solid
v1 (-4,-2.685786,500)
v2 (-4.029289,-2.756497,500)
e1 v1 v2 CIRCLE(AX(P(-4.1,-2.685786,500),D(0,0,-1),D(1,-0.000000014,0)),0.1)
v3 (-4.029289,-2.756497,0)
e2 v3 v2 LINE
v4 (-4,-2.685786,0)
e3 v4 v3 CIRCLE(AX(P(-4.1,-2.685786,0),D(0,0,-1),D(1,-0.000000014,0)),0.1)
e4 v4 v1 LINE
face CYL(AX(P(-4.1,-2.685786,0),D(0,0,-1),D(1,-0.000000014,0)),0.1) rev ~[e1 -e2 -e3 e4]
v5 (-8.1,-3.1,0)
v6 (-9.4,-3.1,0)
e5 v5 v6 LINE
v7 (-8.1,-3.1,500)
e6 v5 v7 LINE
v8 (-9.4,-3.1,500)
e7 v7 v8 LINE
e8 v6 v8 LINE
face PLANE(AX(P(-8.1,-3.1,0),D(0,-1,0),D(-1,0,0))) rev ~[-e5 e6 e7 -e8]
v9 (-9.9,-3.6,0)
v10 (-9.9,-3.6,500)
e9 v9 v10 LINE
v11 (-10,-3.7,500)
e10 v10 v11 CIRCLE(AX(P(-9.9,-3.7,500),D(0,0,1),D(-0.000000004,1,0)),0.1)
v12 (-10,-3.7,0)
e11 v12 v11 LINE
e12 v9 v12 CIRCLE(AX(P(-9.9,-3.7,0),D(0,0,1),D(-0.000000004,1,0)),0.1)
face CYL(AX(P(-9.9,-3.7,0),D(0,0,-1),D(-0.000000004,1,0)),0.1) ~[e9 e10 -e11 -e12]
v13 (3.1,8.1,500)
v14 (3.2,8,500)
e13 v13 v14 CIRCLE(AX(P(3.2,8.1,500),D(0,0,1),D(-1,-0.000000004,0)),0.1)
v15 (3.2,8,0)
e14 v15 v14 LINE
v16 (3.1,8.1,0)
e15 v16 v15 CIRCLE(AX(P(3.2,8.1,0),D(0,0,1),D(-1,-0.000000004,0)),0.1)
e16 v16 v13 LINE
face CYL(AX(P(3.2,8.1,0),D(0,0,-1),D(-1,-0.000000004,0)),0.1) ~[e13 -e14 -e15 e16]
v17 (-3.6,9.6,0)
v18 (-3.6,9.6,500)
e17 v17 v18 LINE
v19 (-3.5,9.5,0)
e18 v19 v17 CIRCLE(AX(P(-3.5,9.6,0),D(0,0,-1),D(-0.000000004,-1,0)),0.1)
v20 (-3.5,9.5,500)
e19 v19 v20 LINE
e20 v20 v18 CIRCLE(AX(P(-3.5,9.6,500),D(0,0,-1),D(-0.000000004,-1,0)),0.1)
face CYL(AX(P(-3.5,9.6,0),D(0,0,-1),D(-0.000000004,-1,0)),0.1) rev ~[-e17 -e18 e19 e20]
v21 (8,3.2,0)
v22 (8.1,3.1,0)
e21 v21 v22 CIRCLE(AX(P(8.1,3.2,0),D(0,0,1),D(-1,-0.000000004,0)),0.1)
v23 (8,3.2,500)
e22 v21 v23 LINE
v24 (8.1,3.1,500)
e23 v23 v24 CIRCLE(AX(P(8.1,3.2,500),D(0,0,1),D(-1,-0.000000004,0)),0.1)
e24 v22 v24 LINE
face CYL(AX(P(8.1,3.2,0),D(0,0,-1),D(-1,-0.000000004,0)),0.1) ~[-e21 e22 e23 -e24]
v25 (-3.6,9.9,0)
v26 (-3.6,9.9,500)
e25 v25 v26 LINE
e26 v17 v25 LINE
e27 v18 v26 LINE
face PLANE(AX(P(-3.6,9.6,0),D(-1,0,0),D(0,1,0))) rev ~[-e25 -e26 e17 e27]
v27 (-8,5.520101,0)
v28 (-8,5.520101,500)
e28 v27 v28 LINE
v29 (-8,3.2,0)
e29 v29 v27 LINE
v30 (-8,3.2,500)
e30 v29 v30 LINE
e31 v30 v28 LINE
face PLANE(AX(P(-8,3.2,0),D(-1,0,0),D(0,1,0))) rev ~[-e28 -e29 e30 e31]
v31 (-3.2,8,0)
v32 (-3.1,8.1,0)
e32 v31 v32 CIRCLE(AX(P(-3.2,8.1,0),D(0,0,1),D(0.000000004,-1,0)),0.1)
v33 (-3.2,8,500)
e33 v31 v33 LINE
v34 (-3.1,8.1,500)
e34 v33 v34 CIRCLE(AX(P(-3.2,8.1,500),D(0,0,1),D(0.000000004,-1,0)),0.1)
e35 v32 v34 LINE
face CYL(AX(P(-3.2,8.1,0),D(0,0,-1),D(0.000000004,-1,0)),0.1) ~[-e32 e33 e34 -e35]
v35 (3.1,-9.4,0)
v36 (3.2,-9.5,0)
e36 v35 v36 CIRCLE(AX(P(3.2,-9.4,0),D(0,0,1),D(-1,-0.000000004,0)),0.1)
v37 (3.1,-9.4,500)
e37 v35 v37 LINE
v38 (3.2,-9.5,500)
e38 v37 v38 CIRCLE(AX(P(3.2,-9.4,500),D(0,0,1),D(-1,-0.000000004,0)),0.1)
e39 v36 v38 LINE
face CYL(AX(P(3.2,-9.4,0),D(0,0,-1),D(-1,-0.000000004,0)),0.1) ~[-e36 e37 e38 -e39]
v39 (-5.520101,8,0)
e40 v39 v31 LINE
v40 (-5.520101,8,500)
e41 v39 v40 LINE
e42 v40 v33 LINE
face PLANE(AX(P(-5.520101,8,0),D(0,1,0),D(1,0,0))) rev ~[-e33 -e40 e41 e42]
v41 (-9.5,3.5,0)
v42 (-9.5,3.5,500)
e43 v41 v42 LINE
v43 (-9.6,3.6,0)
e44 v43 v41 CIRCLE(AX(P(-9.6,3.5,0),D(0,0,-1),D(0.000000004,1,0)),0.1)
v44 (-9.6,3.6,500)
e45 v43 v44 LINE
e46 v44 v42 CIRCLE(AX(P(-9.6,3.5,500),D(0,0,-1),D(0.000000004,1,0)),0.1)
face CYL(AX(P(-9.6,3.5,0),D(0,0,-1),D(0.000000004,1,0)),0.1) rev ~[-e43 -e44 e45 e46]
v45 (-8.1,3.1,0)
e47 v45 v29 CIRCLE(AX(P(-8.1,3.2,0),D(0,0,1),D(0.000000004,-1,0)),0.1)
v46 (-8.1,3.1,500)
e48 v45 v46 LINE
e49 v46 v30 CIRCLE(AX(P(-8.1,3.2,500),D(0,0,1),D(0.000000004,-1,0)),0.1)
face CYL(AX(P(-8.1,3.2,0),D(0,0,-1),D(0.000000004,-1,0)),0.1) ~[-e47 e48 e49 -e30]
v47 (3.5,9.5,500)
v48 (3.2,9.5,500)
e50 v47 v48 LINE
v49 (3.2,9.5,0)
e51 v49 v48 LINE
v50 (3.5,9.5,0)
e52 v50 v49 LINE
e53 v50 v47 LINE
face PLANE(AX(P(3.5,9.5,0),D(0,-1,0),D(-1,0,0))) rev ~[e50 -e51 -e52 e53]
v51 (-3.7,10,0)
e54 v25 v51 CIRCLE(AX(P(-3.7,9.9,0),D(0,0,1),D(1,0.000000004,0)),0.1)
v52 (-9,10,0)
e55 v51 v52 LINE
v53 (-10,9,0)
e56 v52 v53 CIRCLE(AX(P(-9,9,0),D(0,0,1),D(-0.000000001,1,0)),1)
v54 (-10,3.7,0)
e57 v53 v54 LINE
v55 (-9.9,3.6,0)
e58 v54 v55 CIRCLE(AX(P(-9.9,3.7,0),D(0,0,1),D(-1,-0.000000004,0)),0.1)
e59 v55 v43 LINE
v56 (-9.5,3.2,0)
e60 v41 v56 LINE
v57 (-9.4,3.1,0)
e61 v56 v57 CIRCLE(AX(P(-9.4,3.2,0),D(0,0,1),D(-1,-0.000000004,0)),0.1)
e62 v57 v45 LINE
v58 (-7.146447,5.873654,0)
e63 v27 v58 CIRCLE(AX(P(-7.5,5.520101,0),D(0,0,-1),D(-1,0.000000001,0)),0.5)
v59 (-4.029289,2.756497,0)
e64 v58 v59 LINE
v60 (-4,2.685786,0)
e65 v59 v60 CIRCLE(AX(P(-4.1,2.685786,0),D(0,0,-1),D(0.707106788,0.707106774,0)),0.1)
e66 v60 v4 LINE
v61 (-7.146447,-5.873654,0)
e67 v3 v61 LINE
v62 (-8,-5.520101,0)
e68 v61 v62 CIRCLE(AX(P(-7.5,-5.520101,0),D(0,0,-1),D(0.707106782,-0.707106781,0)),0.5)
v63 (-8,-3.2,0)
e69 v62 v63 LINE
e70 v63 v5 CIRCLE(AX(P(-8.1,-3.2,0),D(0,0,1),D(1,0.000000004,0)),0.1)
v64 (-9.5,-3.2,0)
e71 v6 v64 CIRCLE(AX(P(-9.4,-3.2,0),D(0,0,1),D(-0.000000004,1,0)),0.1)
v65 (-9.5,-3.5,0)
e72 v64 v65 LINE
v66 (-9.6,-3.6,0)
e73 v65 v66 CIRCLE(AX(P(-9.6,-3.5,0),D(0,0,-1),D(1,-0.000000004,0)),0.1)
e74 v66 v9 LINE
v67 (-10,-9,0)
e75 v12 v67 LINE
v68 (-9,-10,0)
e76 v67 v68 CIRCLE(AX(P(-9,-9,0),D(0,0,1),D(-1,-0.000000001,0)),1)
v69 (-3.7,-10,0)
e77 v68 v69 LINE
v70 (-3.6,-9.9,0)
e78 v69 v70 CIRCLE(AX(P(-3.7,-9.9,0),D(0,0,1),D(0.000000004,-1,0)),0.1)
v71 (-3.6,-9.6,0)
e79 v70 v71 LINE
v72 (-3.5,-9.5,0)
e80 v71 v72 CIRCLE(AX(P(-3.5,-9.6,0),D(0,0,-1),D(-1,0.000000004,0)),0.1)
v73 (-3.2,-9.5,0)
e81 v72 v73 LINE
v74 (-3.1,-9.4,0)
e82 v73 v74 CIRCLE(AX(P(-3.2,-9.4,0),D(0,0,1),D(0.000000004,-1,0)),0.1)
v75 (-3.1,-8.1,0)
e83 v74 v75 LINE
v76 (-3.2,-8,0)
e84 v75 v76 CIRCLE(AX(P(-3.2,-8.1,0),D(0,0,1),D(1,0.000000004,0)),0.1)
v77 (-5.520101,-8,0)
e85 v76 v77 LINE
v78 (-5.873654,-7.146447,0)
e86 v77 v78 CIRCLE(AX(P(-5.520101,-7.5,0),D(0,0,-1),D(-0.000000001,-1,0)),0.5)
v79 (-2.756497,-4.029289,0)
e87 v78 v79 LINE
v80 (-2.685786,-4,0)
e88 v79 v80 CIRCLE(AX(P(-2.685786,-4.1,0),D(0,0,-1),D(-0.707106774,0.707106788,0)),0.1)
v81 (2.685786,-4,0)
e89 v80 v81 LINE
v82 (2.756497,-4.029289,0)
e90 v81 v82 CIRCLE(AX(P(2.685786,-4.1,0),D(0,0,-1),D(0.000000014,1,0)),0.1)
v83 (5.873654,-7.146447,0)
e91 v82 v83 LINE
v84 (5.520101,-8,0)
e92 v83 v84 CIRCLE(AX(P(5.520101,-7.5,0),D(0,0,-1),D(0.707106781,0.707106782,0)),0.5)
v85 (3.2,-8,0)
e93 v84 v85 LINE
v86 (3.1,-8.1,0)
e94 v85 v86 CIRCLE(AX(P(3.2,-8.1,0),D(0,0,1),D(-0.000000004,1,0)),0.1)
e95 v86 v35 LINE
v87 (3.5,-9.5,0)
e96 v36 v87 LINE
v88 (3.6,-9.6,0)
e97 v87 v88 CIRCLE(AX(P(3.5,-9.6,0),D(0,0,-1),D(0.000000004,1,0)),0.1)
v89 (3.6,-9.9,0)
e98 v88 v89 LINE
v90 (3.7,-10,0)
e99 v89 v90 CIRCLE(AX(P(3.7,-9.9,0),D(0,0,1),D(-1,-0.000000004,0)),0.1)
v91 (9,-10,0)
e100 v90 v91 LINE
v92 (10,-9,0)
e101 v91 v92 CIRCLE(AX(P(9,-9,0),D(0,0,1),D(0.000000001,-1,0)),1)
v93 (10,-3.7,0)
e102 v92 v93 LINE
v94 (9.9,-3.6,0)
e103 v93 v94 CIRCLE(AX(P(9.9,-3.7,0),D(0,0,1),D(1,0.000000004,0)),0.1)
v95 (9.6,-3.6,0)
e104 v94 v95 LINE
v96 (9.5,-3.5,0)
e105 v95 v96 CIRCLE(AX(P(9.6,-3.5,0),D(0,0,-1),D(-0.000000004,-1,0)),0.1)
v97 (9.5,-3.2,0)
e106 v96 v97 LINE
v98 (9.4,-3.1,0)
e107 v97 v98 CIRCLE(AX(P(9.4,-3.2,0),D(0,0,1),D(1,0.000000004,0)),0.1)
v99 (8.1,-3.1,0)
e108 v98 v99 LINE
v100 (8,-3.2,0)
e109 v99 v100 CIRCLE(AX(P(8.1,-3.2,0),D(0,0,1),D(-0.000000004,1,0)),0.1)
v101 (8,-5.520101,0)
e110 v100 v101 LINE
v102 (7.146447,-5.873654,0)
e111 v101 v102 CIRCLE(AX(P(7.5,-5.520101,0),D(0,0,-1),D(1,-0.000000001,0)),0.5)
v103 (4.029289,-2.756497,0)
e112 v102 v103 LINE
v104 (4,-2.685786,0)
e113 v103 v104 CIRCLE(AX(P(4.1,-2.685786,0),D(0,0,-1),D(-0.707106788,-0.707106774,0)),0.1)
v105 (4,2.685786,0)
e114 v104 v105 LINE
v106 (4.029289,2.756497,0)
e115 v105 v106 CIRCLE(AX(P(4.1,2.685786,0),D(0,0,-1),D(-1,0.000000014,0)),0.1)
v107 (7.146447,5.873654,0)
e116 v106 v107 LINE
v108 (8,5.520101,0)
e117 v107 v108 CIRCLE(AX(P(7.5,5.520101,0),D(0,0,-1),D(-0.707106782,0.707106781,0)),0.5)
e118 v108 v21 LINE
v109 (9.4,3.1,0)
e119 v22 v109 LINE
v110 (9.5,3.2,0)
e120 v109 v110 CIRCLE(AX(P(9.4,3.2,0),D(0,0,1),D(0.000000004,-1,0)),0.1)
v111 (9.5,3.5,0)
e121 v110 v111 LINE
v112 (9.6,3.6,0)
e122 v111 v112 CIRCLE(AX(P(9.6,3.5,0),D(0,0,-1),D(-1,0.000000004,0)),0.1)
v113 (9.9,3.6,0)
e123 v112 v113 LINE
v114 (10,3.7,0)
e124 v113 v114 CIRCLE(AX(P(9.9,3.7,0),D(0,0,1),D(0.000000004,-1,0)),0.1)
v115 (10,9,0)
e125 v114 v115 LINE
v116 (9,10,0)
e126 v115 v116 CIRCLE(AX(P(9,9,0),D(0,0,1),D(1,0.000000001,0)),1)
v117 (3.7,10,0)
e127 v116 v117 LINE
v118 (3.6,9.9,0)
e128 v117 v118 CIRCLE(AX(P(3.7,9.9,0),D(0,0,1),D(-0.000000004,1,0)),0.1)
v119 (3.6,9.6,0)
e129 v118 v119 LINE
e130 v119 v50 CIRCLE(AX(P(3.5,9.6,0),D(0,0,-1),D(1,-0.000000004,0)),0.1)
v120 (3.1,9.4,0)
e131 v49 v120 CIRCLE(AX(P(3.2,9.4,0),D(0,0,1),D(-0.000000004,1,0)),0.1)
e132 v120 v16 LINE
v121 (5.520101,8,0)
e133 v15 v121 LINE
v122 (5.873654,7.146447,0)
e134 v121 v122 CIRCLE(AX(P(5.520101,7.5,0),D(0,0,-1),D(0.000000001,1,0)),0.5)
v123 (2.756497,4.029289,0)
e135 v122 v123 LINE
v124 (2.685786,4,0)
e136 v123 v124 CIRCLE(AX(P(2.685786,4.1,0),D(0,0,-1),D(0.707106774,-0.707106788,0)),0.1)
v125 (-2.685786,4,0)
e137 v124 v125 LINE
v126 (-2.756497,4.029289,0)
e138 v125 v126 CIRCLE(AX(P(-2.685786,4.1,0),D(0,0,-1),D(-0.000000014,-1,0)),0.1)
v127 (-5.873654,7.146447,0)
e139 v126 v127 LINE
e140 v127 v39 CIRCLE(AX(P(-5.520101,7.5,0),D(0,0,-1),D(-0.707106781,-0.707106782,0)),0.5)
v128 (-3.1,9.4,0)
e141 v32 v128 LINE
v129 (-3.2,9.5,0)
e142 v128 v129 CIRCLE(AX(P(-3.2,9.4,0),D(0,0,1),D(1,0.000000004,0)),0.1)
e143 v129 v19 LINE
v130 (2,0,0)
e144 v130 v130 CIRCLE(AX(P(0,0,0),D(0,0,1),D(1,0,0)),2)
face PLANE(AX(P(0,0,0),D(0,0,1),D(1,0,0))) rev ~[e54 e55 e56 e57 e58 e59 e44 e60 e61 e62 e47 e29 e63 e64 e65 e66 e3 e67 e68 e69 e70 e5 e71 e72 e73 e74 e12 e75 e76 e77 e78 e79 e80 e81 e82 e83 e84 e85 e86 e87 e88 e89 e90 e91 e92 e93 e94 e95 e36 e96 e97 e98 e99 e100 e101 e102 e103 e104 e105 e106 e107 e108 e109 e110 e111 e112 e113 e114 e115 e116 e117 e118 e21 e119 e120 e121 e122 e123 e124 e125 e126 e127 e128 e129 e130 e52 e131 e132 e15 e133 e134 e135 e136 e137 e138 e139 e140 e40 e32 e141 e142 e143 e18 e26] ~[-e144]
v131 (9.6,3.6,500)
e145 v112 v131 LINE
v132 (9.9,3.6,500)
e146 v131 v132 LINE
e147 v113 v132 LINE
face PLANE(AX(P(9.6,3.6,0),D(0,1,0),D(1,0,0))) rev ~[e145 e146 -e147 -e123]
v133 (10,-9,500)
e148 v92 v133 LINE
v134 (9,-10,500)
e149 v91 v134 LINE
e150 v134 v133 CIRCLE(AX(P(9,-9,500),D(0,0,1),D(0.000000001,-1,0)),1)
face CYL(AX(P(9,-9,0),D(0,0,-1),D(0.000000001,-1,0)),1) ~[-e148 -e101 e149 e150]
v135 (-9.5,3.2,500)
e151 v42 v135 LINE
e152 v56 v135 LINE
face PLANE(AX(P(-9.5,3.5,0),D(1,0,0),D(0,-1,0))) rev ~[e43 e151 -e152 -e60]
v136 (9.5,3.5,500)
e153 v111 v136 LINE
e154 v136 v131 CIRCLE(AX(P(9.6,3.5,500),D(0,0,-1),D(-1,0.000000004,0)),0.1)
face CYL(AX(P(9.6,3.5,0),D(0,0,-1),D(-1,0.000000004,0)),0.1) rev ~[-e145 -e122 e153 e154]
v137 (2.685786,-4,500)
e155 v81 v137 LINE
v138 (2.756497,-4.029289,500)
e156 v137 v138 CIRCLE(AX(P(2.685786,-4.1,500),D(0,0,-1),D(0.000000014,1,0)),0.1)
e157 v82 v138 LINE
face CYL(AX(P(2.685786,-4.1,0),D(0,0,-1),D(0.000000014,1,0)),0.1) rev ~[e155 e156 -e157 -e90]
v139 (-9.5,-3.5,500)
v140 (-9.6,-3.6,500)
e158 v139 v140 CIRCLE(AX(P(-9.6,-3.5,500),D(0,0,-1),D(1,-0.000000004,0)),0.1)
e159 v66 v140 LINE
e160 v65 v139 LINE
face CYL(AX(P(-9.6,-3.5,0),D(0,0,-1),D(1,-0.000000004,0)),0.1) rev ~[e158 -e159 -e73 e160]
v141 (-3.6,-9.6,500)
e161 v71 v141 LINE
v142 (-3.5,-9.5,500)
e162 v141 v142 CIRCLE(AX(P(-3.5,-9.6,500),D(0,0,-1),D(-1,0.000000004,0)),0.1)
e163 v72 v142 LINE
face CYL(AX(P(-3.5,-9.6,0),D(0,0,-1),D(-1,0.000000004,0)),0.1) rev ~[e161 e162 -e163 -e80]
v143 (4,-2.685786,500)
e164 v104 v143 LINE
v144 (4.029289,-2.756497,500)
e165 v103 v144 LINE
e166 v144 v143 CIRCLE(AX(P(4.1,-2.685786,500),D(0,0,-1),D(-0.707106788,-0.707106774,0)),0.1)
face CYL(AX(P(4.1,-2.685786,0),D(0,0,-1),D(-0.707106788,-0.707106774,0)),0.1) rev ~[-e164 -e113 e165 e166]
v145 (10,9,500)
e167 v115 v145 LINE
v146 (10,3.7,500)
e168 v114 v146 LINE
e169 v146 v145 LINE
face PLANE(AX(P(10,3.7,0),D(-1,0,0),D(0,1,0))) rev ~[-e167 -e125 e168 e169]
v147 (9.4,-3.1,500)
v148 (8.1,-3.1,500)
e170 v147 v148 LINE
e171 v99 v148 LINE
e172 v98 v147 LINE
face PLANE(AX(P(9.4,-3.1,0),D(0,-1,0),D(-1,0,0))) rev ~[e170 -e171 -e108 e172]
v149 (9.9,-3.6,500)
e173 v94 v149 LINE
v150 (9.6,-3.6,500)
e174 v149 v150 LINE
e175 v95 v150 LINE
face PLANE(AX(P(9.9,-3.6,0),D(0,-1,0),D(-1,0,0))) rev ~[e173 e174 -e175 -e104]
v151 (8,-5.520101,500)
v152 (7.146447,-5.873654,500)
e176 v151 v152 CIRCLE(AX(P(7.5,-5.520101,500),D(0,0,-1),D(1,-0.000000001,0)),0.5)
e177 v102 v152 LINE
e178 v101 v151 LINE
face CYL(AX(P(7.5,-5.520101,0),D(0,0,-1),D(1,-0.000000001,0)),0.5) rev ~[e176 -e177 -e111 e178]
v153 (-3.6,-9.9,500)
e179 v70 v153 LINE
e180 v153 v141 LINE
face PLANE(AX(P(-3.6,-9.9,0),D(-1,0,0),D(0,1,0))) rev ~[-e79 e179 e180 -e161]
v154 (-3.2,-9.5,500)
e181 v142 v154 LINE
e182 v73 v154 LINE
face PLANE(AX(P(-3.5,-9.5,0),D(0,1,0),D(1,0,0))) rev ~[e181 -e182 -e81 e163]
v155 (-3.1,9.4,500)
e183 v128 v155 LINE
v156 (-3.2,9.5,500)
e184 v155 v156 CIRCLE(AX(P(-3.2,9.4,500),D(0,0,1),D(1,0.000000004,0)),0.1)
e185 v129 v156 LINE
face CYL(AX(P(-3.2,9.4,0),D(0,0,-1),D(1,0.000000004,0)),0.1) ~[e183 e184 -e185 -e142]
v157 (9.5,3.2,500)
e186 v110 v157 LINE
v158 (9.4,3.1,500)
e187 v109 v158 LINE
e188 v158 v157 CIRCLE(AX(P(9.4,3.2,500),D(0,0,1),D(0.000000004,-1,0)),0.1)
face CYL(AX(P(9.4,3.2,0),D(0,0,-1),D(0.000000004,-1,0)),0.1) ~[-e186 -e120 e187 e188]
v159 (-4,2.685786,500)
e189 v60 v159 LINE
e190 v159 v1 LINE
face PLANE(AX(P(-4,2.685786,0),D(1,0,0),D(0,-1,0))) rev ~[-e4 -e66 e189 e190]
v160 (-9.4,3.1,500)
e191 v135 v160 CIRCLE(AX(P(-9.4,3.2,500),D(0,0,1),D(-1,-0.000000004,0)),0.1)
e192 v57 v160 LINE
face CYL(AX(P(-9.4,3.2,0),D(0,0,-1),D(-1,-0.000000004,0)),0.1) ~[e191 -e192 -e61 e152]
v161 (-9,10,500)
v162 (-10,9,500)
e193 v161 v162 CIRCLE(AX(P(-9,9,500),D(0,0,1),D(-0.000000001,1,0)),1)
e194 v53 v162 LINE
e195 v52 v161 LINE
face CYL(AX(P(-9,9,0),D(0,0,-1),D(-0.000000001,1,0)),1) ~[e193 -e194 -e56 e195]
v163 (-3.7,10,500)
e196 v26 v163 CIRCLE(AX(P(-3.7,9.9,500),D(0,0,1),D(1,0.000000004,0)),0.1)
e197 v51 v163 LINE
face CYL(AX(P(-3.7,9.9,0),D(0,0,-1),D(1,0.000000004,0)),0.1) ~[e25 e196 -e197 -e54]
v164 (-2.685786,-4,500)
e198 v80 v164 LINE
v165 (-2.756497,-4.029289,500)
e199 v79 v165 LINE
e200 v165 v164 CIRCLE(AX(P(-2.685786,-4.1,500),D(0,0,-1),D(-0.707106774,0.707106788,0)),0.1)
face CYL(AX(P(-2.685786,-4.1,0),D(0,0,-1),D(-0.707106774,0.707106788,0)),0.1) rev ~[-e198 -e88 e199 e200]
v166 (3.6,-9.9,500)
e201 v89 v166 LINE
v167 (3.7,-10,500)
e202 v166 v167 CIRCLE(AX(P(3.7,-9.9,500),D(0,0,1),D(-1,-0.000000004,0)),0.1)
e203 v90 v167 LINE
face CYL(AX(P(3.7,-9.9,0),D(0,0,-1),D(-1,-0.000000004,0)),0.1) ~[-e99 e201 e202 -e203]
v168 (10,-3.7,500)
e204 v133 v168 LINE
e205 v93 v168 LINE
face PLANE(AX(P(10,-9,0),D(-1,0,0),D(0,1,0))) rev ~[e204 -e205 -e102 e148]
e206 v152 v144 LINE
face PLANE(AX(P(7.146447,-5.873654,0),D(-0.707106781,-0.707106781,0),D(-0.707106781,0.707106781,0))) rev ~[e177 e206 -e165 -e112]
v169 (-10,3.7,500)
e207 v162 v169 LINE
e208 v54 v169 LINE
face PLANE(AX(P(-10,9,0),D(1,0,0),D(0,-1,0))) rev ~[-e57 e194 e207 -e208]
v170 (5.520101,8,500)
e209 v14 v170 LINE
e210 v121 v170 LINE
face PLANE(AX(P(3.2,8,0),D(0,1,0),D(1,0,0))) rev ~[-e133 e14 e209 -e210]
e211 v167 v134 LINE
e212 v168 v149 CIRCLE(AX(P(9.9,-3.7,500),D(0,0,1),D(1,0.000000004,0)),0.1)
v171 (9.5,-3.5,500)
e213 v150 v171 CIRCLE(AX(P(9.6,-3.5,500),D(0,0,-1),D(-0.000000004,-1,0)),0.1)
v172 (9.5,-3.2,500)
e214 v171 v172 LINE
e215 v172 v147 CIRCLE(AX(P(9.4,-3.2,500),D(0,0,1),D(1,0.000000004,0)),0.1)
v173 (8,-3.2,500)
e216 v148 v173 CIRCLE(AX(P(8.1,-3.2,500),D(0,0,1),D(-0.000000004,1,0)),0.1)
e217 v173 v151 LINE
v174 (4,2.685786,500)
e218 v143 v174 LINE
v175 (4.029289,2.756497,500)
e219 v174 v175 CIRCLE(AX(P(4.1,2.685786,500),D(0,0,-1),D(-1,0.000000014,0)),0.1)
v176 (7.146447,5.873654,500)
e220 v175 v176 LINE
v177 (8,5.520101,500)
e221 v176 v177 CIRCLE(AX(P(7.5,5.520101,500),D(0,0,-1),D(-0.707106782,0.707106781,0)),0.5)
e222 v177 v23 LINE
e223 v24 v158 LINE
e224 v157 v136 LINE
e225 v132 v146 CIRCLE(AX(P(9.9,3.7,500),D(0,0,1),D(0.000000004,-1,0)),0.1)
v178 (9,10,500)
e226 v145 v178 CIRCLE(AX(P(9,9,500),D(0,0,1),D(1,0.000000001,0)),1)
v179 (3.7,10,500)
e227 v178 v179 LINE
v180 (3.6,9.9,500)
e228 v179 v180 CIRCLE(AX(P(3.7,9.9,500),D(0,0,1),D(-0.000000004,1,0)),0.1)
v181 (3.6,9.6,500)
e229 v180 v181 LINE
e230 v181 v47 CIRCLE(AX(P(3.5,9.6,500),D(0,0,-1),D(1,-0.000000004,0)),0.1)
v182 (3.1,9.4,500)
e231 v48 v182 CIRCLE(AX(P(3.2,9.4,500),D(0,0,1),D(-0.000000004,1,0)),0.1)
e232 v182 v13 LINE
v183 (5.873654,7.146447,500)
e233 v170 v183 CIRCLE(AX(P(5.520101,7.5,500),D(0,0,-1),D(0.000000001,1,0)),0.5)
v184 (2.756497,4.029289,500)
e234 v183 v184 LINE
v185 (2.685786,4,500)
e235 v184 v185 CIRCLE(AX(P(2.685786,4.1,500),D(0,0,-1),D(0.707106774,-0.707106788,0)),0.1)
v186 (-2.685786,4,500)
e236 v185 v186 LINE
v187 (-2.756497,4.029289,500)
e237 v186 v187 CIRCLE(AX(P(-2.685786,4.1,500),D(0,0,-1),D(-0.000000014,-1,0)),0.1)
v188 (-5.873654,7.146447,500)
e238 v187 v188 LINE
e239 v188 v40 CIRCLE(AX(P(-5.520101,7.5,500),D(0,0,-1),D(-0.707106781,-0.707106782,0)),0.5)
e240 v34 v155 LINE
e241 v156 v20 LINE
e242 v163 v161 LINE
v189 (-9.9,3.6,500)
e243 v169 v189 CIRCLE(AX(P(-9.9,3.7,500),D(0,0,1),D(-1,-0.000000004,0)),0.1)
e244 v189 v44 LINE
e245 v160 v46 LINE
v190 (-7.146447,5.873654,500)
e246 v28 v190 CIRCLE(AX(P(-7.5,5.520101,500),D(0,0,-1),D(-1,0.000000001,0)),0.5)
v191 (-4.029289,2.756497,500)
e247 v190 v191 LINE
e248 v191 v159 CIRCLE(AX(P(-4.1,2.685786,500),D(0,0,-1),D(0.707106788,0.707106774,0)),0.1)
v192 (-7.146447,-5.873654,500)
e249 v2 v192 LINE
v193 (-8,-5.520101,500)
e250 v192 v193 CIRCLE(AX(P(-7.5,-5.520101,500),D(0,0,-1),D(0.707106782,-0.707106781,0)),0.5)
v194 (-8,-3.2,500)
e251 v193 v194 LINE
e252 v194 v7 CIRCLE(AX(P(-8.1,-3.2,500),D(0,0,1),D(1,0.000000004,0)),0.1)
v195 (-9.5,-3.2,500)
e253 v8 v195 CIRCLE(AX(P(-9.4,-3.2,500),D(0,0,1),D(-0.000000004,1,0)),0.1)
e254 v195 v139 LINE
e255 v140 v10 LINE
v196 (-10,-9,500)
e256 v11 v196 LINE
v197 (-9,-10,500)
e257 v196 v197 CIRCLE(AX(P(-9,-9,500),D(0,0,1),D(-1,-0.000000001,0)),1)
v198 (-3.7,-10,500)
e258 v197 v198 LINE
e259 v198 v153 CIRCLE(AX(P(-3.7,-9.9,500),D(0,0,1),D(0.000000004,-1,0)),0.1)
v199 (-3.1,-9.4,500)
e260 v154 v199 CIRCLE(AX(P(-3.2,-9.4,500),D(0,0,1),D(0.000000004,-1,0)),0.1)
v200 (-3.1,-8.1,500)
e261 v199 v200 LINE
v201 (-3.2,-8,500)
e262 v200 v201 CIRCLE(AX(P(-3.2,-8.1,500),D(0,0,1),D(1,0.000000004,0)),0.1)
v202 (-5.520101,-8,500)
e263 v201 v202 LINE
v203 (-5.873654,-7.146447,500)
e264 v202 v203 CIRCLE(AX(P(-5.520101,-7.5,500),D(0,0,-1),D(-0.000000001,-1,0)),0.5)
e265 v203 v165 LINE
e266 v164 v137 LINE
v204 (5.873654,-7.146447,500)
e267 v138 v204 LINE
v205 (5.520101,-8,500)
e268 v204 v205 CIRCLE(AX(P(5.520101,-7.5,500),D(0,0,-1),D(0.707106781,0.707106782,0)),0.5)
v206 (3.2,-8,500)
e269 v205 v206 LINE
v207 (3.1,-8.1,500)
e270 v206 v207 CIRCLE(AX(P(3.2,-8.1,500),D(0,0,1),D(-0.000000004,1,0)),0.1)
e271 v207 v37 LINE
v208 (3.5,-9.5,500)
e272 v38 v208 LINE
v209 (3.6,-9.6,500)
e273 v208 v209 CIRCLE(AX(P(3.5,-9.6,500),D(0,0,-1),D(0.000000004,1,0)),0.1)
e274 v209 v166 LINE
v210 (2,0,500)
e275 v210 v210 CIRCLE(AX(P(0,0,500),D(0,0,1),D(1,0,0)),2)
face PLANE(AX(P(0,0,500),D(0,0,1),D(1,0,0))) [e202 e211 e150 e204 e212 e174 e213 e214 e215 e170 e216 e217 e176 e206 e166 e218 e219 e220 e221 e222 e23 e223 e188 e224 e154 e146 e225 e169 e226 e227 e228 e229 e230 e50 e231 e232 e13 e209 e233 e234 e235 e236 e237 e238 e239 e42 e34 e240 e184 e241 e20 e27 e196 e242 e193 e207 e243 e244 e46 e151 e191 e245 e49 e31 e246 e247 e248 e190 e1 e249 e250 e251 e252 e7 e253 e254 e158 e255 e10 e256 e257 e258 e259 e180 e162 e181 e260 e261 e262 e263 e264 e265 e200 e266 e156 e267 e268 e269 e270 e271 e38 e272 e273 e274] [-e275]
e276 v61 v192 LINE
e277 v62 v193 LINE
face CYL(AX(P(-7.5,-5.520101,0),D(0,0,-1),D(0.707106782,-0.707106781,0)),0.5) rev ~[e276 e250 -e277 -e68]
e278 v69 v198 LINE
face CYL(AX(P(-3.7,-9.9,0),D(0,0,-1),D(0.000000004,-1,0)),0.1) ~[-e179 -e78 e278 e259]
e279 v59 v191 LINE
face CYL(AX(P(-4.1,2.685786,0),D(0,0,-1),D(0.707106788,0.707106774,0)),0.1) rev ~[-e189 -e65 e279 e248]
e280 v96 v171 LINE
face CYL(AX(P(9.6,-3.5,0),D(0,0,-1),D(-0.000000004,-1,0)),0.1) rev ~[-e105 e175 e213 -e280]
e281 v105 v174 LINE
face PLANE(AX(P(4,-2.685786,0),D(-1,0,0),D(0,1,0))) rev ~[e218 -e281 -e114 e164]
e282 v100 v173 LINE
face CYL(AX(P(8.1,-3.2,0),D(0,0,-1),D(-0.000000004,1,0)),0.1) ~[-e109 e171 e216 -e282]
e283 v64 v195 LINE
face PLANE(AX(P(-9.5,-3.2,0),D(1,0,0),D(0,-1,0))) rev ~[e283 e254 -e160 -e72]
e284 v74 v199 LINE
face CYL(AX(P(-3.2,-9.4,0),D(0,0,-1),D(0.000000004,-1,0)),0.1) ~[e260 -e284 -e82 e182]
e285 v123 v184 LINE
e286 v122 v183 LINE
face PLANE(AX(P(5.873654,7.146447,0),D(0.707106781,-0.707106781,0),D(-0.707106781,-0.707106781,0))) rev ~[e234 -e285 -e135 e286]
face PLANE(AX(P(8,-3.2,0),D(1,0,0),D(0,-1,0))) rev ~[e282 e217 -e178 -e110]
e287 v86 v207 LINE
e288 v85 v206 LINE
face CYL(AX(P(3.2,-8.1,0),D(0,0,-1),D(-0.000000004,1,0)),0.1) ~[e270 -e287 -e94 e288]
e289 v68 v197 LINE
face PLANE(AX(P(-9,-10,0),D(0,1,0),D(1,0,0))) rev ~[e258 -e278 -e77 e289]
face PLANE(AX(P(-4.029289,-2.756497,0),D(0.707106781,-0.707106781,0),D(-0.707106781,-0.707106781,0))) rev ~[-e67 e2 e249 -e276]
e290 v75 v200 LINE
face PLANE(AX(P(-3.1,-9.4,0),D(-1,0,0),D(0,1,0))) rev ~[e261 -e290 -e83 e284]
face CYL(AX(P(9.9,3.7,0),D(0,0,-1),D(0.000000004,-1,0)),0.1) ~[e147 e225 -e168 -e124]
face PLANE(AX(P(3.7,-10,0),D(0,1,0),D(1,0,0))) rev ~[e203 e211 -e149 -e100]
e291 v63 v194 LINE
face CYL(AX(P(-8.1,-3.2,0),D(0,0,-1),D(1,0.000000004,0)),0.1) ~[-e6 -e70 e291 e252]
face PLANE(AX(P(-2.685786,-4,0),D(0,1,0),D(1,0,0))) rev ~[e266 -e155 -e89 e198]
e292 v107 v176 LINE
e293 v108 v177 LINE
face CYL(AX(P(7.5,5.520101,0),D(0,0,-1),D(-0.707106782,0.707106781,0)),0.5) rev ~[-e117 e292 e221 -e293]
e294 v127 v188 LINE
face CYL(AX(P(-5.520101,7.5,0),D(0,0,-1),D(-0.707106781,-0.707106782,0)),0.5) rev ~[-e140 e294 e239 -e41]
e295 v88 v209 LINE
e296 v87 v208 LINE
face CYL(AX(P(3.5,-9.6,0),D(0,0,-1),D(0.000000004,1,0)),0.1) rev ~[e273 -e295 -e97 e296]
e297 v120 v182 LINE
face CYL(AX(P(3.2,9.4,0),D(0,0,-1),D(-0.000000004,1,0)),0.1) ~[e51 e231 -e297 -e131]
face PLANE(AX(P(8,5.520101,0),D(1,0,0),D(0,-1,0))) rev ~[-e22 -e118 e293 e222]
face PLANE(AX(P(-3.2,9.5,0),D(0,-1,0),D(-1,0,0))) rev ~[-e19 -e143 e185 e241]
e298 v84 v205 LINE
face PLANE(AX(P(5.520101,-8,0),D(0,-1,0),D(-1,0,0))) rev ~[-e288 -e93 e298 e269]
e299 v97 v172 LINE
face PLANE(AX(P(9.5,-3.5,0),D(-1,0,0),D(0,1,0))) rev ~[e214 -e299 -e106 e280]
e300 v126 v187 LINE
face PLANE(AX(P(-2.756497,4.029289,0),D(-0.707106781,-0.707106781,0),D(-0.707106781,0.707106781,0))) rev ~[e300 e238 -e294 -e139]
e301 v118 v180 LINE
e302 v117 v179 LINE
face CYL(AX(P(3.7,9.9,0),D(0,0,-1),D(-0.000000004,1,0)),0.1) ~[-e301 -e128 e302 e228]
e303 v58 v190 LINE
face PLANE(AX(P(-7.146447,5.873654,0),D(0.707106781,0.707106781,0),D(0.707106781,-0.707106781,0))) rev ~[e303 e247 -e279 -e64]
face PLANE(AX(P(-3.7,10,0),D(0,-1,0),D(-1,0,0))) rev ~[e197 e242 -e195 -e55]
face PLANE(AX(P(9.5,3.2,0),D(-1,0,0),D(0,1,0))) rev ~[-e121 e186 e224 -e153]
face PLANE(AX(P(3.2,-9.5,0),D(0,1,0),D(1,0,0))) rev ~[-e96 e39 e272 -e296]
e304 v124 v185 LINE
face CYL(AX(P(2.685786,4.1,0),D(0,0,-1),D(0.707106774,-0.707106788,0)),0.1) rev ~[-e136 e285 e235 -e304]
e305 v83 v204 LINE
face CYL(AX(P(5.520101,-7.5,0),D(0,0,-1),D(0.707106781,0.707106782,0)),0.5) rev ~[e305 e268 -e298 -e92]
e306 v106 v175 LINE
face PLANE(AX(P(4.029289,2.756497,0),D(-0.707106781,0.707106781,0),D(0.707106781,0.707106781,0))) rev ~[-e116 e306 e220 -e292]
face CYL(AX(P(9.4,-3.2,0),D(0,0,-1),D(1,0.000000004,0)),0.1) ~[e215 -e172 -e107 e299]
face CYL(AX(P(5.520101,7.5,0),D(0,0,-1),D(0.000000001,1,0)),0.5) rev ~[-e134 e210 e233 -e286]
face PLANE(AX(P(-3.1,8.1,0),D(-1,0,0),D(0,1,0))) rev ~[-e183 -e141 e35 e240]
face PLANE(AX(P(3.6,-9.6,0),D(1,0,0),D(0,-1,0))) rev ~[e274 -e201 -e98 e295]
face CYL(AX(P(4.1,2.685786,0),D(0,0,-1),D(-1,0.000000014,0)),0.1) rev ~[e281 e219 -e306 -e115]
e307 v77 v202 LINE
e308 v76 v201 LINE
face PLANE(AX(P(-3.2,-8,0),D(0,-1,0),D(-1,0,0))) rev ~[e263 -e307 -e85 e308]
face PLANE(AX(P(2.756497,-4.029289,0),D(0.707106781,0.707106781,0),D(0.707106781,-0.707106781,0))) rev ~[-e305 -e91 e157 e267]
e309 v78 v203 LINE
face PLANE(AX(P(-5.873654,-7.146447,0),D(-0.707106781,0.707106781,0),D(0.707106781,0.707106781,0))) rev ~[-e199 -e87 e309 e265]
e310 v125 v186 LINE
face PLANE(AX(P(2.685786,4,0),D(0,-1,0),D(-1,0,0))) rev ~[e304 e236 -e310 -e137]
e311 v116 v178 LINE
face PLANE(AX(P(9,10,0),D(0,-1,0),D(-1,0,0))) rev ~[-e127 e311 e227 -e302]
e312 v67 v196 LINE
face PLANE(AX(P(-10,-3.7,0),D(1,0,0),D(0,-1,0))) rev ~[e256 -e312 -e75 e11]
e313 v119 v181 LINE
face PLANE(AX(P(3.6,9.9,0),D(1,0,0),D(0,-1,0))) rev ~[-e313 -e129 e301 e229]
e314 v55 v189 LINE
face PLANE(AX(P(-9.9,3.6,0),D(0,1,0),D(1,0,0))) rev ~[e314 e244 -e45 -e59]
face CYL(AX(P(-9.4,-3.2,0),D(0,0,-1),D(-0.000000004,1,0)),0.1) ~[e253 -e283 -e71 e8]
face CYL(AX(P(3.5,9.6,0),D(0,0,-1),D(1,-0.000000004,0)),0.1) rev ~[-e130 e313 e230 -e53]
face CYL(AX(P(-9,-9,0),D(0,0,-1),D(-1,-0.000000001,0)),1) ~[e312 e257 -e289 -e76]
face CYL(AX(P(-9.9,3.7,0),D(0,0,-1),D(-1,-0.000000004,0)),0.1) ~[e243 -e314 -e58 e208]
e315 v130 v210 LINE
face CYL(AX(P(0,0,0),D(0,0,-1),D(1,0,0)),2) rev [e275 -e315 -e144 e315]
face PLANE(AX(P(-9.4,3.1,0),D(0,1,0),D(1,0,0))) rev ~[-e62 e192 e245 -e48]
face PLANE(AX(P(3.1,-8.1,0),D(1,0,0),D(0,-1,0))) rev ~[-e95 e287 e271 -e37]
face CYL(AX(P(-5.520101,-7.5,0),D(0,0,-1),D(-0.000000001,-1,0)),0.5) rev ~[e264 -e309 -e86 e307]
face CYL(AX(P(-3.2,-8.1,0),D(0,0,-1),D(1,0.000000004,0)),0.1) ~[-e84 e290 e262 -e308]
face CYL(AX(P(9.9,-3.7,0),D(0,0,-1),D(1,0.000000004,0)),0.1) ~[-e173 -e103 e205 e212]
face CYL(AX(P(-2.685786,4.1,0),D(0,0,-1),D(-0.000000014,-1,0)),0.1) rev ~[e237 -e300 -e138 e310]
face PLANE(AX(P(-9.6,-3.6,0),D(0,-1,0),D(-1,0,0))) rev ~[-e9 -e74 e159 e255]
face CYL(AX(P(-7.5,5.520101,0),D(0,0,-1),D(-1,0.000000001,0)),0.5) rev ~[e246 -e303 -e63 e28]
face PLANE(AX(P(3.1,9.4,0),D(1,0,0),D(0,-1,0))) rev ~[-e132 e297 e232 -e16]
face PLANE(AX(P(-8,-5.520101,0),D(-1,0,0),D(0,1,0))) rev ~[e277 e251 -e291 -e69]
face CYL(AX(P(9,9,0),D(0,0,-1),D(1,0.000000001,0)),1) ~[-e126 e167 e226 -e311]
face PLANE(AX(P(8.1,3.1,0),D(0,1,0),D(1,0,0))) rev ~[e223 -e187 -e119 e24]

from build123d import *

# Parameters (mm, degrees)
SKETCH1_R           = 2
BOSS_EXTRUDE1_DEPTH = 500


with BuildPart() as part:
    # Sketch1 → Boss-Extrude1 (new body)
    with BuildSketch(Plane.XY):
        with BuildLine():
            Line((-10, 9), (-10, 3.7))
            ThreePointArc((-10, 3.7), (-9.970710678, 3.629289322), (-9.9, 3.6))
            Line((-9.9, 3.6), (-9.6, 3.6))
            ThreePointArc((-9.6, 3.6), (-9.529289322, 3.570710678), (-9.5, 3.5))
            Line((-9.5, 3.5), (-9.5, 3.2))
            ThreePointArc((-9.5, 3.2), (-9.470710678, 3.129289322), (-9.4, 3.1))
            Line((-9.4, 3.1), (-8.1, 3.1))
            ThreePointArc((-8.1, 3.1), (-8.029289322, 3.129289322), (-8, 3.2))
            Line((-8, 3.2), (-8, 5.520101013))
            ThreePointArc((-8, 5.520101013), (-7.691341716, 5.982040779), (-7.146446609, 5.873654403))
            Line((-7.146446609, 5.873654403), (-4.029289322, 2.756497116))
            ThreePointArc((-4.029289322, 2.756497116), (-4.007612047, 2.724054781), (-4, 2.685786438))
            Line((-4, 2.685786438), (-4, 0))
            Line((-4, 0), (-4, -2.685786438))
            ThreePointArc((-4, -2.685786438), (-4.007612047, -2.724054781), (-4.029289322, -2.756497116))
            Line((-4.029289322, -2.756497116), (-7.146446609, -5.873654403))
            ThreePointArc((-7.146446609, -5.873654403), (-7.691341716, -5.982040779), (-8, -5.520101013))
            Line((-8, -5.520101013), (-8, -3.2))
            ThreePointArc((-8, -3.2), (-8.029289322, -3.129289322), (-8.1, -3.1))
            Line((-8.1, -3.1), (-9.4, -3.1))
            ThreePointArc((-9.4, -3.1), (-9.470710678, -3.129289322), (-9.5, -3.2))
            Line((-9.5, -3.2), (-9.5, -3.5))
            ThreePointArc((-9.5, -3.5), (-9.529289322, -3.570710678), (-9.6, -3.6))
            Line((-9.6, -3.6), (-9.9, -3.6))
            ThreePointArc((-9.9, -3.6), (-9.970710678, -3.629289322), (-10, -3.7))
            Line((-10, -3.7), (-10, -9))
            ThreePointArc((-10, -9), (-9.707106781, -9.707106781), (-9, -10))
            Line((-9, -10), (-3.7, -10))
            ThreePointArc((-3.7, -10), (-3.629289322, -9.970710678), (-3.6, -9.9))
            Line((-3.6, -9.9), (-3.6, -9.6))
            ThreePointArc((-3.6, -9.6), (-3.570710678, -9.529289322), (-3.5, -9.5))
            Line((-3.5, -9.5), (-3.2, -9.5))
            ThreePointArc((-3.2, -9.5), (-3.129289322, -9.470710678), (-3.1, -9.4))
            Line((-3.1, -9.4), (-3.1, -8.1))
            ThreePointArc((-3.1, -8.1), (-3.129289322, -8.029289322), (-3.2, -8))
            Line((-3.2, -8), (-5.520101013, -8))
            ThreePointArc((-5.520101013, -8), (-5.982040779, -7.691341716), (-5.873654403, -7.146446609))
            Line((-5.873654403, -7.146446609), (-2.756497116, -4.029289322))
            ThreePointArc((-2.756497116, -4.029289322), (-2.724054781, -4.007612047), (-2.685786438, -4))
            Line((-2.685786438, -4), (2.685786438, -4))
            ThreePointArc((2.685786438, -4), (2.724054781, -4.007612047), (2.756497116, -4.029289322))
            Line((2.756497116, -4.029289322), (5.873654403, -7.146446609))
            ThreePointArc((5.873654403, -7.146446609), (5.982040779, -7.691341716), (5.520101013, -8))
            Line((5.520101013, -8), (3.2, -8))
            ThreePointArc((3.2, -8), (3.129289322, -8.029289322), (3.1, -8.1))
            Line((3.1, -8.1), (3.1, -9.4))
            ThreePointArc((3.1, -9.4), (3.129289322, -9.470710678), (3.2, -9.5))
            Line((3.2, -9.5), (3.5, -9.5))
            ThreePointArc((3.5, -9.5), (3.570710678, -9.529289322), (3.6, -9.6))
            Line((3.6, -9.6), (3.6, -9.9))
            ThreePointArc((3.6, -9.9), (3.629289322, -9.970710678), (3.7, -10))
            Line((3.7, -10), (9, -10))
            ThreePointArc((9, -10), (9.707106781, -9.707106781), (10, -9))
            Line((10, -9), (10, -3.7))
            ThreePointArc((10, -3.7), (9.970710678, -3.629289322), (9.9, -3.6))
            Line((9.9, -3.6), (9.6, -3.6))
            ThreePointArc((9.6, -3.6), (9.529289322, -3.570710678), (9.5, -3.5))
            Line((9.5, -3.5), (9.5, -3.2))
            ThreePointArc((9.5, -3.2), (9.470710678, -3.129289322), (9.4, -3.1))
            Line((9.4, -3.1), (8.1, -3.1))
            ThreePointArc((8.1, -3.1), (8.029289322, -3.129289322), (8, -3.2))
            Line((8, -3.2), (8, -5.520101013))
            ThreePointArc((8, -5.520101013), (7.691341716, -5.982040779), (7.146446609, -5.873654403))
            Line((7.146446609, -5.873654403), (4.029289322, -2.756497116))
            ThreePointArc((4.029289322, -2.756497116), (4.007612047, -2.724054781), (4, -2.685786438))
            Line((4, -2.685786438), (4, 0))
            Line((4, 0), (4, 2.685786438))
            ThreePointArc((4, 2.685786438), (4.007612047, 2.724054781), (4.029289322, 2.756497116))
            Line((4.029289322, 2.756497116), (7.146446609, 5.873654403))
            ThreePointArc((7.146446609, 5.873654403), (7.691341716, 5.982040779), (8, 5.520101013))
            Line((8, 5.520101013), (8, 3.2))
            ThreePointArc((8, 3.2), (8.029289322, 3.129289322), (8.1, 3.1))
            Line((8.1, 3.1), (9.4, 3.1))
            ThreePointArc((9.4, 3.1), (9.470710678, 3.129289322), (9.5, 3.2))
            Line((9.5, 3.2), (9.5, 3.5))
            ThreePointArc((9.5, 3.5), (9.529289322, 3.570710678), (9.6, 3.6))
            Line((9.6, 3.6), (9.9, 3.6))
            ThreePointArc((9.9, 3.6), (9.970710678, 3.629289322), (10, 3.7))
            Line((10, 3.7), (10, 9))
            ThreePointArc((10, 9), (9.707106781, 9.707106781), (9, 10))
            Line((9, 10), (3.7, 10))
            ThreePointArc((3.7, 10), (3.629289322, 9.970710678), (3.6, 9.9))
            Line((3.6, 9.9), (3.6, 9.6))
            ThreePointArc((3.6, 9.6), (3.570710678, 9.529289322), (3.5, 9.5))
            Line((3.5, 9.5), (3.2, 9.5))
            ThreePointArc((3.2, 9.5), (3.129289322, 9.470710678), (3.1, 9.4))
            Line((3.1, 9.4), (3.1, 8.1))
            ThreePointArc((3.1, 8.1), (3.129289322, 8.029289322), (3.2, 8))
            Line((3.2, 8), (5.520101013, 8))
            ThreePointArc((5.520101013, 8), (5.982040779, 7.691341716), (5.873654403, 7.146446609))
            Line((5.873654403, 7.146446609), (2.756497116, 4.029289322))
            ThreePointArc((2.756497116, 4.029289322), (2.724054781, 4.007612047), (2.685786438, 4))
            Line((2.685786438, 4), (-2.685786438, 4))
            ThreePointArc((-2.685786438, 4), (-2.724054781, 4.007612047), (-2.756497116, 4.029289322))
            Line((-2.756497116, 4.029289322), (-5.873654403, 7.146446609))
            ThreePointArc((-5.873654403, 7.146446609), (-5.982040779, 7.691341716), (-5.520101013, 8))
            Line((-5.520101013, 8), (-3.2, 8))
            ThreePointArc((-3.2, 8), (-3.129289322, 8.029289322), (-3.1, 8.1))
            Line((-3.1, 8.1), (-3.1, 9.4))
            ThreePointArc((-3.1, 9.4), (-3.129289322, 9.470710678), (-3.2, 9.5))
            Line((-3.2, 9.5), (-3.5, 9.5))
            ThreePointArc((-3.5, 9.5), (-3.570710678, 9.529289322), (-3.6, 9.6))
            Line((-3.6, 9.6), (-3.6, 9.9))
            ThreePointArc((-3.6, 9.9), (-3.629289322, 9.970710678), (-3.7, 10))
            Line((-3.7, 10), (-9, 10))
            ThreePointArc((-9, 10), (-9.707106781, 9.707106781), (-10, 9))
        make_face()
        Circle(SKETCH1_R, mode=Mode.SUBTRACT)
    extrude(amount=BOSS_EXTRUDE1_DEPTH)


solid = part.part
